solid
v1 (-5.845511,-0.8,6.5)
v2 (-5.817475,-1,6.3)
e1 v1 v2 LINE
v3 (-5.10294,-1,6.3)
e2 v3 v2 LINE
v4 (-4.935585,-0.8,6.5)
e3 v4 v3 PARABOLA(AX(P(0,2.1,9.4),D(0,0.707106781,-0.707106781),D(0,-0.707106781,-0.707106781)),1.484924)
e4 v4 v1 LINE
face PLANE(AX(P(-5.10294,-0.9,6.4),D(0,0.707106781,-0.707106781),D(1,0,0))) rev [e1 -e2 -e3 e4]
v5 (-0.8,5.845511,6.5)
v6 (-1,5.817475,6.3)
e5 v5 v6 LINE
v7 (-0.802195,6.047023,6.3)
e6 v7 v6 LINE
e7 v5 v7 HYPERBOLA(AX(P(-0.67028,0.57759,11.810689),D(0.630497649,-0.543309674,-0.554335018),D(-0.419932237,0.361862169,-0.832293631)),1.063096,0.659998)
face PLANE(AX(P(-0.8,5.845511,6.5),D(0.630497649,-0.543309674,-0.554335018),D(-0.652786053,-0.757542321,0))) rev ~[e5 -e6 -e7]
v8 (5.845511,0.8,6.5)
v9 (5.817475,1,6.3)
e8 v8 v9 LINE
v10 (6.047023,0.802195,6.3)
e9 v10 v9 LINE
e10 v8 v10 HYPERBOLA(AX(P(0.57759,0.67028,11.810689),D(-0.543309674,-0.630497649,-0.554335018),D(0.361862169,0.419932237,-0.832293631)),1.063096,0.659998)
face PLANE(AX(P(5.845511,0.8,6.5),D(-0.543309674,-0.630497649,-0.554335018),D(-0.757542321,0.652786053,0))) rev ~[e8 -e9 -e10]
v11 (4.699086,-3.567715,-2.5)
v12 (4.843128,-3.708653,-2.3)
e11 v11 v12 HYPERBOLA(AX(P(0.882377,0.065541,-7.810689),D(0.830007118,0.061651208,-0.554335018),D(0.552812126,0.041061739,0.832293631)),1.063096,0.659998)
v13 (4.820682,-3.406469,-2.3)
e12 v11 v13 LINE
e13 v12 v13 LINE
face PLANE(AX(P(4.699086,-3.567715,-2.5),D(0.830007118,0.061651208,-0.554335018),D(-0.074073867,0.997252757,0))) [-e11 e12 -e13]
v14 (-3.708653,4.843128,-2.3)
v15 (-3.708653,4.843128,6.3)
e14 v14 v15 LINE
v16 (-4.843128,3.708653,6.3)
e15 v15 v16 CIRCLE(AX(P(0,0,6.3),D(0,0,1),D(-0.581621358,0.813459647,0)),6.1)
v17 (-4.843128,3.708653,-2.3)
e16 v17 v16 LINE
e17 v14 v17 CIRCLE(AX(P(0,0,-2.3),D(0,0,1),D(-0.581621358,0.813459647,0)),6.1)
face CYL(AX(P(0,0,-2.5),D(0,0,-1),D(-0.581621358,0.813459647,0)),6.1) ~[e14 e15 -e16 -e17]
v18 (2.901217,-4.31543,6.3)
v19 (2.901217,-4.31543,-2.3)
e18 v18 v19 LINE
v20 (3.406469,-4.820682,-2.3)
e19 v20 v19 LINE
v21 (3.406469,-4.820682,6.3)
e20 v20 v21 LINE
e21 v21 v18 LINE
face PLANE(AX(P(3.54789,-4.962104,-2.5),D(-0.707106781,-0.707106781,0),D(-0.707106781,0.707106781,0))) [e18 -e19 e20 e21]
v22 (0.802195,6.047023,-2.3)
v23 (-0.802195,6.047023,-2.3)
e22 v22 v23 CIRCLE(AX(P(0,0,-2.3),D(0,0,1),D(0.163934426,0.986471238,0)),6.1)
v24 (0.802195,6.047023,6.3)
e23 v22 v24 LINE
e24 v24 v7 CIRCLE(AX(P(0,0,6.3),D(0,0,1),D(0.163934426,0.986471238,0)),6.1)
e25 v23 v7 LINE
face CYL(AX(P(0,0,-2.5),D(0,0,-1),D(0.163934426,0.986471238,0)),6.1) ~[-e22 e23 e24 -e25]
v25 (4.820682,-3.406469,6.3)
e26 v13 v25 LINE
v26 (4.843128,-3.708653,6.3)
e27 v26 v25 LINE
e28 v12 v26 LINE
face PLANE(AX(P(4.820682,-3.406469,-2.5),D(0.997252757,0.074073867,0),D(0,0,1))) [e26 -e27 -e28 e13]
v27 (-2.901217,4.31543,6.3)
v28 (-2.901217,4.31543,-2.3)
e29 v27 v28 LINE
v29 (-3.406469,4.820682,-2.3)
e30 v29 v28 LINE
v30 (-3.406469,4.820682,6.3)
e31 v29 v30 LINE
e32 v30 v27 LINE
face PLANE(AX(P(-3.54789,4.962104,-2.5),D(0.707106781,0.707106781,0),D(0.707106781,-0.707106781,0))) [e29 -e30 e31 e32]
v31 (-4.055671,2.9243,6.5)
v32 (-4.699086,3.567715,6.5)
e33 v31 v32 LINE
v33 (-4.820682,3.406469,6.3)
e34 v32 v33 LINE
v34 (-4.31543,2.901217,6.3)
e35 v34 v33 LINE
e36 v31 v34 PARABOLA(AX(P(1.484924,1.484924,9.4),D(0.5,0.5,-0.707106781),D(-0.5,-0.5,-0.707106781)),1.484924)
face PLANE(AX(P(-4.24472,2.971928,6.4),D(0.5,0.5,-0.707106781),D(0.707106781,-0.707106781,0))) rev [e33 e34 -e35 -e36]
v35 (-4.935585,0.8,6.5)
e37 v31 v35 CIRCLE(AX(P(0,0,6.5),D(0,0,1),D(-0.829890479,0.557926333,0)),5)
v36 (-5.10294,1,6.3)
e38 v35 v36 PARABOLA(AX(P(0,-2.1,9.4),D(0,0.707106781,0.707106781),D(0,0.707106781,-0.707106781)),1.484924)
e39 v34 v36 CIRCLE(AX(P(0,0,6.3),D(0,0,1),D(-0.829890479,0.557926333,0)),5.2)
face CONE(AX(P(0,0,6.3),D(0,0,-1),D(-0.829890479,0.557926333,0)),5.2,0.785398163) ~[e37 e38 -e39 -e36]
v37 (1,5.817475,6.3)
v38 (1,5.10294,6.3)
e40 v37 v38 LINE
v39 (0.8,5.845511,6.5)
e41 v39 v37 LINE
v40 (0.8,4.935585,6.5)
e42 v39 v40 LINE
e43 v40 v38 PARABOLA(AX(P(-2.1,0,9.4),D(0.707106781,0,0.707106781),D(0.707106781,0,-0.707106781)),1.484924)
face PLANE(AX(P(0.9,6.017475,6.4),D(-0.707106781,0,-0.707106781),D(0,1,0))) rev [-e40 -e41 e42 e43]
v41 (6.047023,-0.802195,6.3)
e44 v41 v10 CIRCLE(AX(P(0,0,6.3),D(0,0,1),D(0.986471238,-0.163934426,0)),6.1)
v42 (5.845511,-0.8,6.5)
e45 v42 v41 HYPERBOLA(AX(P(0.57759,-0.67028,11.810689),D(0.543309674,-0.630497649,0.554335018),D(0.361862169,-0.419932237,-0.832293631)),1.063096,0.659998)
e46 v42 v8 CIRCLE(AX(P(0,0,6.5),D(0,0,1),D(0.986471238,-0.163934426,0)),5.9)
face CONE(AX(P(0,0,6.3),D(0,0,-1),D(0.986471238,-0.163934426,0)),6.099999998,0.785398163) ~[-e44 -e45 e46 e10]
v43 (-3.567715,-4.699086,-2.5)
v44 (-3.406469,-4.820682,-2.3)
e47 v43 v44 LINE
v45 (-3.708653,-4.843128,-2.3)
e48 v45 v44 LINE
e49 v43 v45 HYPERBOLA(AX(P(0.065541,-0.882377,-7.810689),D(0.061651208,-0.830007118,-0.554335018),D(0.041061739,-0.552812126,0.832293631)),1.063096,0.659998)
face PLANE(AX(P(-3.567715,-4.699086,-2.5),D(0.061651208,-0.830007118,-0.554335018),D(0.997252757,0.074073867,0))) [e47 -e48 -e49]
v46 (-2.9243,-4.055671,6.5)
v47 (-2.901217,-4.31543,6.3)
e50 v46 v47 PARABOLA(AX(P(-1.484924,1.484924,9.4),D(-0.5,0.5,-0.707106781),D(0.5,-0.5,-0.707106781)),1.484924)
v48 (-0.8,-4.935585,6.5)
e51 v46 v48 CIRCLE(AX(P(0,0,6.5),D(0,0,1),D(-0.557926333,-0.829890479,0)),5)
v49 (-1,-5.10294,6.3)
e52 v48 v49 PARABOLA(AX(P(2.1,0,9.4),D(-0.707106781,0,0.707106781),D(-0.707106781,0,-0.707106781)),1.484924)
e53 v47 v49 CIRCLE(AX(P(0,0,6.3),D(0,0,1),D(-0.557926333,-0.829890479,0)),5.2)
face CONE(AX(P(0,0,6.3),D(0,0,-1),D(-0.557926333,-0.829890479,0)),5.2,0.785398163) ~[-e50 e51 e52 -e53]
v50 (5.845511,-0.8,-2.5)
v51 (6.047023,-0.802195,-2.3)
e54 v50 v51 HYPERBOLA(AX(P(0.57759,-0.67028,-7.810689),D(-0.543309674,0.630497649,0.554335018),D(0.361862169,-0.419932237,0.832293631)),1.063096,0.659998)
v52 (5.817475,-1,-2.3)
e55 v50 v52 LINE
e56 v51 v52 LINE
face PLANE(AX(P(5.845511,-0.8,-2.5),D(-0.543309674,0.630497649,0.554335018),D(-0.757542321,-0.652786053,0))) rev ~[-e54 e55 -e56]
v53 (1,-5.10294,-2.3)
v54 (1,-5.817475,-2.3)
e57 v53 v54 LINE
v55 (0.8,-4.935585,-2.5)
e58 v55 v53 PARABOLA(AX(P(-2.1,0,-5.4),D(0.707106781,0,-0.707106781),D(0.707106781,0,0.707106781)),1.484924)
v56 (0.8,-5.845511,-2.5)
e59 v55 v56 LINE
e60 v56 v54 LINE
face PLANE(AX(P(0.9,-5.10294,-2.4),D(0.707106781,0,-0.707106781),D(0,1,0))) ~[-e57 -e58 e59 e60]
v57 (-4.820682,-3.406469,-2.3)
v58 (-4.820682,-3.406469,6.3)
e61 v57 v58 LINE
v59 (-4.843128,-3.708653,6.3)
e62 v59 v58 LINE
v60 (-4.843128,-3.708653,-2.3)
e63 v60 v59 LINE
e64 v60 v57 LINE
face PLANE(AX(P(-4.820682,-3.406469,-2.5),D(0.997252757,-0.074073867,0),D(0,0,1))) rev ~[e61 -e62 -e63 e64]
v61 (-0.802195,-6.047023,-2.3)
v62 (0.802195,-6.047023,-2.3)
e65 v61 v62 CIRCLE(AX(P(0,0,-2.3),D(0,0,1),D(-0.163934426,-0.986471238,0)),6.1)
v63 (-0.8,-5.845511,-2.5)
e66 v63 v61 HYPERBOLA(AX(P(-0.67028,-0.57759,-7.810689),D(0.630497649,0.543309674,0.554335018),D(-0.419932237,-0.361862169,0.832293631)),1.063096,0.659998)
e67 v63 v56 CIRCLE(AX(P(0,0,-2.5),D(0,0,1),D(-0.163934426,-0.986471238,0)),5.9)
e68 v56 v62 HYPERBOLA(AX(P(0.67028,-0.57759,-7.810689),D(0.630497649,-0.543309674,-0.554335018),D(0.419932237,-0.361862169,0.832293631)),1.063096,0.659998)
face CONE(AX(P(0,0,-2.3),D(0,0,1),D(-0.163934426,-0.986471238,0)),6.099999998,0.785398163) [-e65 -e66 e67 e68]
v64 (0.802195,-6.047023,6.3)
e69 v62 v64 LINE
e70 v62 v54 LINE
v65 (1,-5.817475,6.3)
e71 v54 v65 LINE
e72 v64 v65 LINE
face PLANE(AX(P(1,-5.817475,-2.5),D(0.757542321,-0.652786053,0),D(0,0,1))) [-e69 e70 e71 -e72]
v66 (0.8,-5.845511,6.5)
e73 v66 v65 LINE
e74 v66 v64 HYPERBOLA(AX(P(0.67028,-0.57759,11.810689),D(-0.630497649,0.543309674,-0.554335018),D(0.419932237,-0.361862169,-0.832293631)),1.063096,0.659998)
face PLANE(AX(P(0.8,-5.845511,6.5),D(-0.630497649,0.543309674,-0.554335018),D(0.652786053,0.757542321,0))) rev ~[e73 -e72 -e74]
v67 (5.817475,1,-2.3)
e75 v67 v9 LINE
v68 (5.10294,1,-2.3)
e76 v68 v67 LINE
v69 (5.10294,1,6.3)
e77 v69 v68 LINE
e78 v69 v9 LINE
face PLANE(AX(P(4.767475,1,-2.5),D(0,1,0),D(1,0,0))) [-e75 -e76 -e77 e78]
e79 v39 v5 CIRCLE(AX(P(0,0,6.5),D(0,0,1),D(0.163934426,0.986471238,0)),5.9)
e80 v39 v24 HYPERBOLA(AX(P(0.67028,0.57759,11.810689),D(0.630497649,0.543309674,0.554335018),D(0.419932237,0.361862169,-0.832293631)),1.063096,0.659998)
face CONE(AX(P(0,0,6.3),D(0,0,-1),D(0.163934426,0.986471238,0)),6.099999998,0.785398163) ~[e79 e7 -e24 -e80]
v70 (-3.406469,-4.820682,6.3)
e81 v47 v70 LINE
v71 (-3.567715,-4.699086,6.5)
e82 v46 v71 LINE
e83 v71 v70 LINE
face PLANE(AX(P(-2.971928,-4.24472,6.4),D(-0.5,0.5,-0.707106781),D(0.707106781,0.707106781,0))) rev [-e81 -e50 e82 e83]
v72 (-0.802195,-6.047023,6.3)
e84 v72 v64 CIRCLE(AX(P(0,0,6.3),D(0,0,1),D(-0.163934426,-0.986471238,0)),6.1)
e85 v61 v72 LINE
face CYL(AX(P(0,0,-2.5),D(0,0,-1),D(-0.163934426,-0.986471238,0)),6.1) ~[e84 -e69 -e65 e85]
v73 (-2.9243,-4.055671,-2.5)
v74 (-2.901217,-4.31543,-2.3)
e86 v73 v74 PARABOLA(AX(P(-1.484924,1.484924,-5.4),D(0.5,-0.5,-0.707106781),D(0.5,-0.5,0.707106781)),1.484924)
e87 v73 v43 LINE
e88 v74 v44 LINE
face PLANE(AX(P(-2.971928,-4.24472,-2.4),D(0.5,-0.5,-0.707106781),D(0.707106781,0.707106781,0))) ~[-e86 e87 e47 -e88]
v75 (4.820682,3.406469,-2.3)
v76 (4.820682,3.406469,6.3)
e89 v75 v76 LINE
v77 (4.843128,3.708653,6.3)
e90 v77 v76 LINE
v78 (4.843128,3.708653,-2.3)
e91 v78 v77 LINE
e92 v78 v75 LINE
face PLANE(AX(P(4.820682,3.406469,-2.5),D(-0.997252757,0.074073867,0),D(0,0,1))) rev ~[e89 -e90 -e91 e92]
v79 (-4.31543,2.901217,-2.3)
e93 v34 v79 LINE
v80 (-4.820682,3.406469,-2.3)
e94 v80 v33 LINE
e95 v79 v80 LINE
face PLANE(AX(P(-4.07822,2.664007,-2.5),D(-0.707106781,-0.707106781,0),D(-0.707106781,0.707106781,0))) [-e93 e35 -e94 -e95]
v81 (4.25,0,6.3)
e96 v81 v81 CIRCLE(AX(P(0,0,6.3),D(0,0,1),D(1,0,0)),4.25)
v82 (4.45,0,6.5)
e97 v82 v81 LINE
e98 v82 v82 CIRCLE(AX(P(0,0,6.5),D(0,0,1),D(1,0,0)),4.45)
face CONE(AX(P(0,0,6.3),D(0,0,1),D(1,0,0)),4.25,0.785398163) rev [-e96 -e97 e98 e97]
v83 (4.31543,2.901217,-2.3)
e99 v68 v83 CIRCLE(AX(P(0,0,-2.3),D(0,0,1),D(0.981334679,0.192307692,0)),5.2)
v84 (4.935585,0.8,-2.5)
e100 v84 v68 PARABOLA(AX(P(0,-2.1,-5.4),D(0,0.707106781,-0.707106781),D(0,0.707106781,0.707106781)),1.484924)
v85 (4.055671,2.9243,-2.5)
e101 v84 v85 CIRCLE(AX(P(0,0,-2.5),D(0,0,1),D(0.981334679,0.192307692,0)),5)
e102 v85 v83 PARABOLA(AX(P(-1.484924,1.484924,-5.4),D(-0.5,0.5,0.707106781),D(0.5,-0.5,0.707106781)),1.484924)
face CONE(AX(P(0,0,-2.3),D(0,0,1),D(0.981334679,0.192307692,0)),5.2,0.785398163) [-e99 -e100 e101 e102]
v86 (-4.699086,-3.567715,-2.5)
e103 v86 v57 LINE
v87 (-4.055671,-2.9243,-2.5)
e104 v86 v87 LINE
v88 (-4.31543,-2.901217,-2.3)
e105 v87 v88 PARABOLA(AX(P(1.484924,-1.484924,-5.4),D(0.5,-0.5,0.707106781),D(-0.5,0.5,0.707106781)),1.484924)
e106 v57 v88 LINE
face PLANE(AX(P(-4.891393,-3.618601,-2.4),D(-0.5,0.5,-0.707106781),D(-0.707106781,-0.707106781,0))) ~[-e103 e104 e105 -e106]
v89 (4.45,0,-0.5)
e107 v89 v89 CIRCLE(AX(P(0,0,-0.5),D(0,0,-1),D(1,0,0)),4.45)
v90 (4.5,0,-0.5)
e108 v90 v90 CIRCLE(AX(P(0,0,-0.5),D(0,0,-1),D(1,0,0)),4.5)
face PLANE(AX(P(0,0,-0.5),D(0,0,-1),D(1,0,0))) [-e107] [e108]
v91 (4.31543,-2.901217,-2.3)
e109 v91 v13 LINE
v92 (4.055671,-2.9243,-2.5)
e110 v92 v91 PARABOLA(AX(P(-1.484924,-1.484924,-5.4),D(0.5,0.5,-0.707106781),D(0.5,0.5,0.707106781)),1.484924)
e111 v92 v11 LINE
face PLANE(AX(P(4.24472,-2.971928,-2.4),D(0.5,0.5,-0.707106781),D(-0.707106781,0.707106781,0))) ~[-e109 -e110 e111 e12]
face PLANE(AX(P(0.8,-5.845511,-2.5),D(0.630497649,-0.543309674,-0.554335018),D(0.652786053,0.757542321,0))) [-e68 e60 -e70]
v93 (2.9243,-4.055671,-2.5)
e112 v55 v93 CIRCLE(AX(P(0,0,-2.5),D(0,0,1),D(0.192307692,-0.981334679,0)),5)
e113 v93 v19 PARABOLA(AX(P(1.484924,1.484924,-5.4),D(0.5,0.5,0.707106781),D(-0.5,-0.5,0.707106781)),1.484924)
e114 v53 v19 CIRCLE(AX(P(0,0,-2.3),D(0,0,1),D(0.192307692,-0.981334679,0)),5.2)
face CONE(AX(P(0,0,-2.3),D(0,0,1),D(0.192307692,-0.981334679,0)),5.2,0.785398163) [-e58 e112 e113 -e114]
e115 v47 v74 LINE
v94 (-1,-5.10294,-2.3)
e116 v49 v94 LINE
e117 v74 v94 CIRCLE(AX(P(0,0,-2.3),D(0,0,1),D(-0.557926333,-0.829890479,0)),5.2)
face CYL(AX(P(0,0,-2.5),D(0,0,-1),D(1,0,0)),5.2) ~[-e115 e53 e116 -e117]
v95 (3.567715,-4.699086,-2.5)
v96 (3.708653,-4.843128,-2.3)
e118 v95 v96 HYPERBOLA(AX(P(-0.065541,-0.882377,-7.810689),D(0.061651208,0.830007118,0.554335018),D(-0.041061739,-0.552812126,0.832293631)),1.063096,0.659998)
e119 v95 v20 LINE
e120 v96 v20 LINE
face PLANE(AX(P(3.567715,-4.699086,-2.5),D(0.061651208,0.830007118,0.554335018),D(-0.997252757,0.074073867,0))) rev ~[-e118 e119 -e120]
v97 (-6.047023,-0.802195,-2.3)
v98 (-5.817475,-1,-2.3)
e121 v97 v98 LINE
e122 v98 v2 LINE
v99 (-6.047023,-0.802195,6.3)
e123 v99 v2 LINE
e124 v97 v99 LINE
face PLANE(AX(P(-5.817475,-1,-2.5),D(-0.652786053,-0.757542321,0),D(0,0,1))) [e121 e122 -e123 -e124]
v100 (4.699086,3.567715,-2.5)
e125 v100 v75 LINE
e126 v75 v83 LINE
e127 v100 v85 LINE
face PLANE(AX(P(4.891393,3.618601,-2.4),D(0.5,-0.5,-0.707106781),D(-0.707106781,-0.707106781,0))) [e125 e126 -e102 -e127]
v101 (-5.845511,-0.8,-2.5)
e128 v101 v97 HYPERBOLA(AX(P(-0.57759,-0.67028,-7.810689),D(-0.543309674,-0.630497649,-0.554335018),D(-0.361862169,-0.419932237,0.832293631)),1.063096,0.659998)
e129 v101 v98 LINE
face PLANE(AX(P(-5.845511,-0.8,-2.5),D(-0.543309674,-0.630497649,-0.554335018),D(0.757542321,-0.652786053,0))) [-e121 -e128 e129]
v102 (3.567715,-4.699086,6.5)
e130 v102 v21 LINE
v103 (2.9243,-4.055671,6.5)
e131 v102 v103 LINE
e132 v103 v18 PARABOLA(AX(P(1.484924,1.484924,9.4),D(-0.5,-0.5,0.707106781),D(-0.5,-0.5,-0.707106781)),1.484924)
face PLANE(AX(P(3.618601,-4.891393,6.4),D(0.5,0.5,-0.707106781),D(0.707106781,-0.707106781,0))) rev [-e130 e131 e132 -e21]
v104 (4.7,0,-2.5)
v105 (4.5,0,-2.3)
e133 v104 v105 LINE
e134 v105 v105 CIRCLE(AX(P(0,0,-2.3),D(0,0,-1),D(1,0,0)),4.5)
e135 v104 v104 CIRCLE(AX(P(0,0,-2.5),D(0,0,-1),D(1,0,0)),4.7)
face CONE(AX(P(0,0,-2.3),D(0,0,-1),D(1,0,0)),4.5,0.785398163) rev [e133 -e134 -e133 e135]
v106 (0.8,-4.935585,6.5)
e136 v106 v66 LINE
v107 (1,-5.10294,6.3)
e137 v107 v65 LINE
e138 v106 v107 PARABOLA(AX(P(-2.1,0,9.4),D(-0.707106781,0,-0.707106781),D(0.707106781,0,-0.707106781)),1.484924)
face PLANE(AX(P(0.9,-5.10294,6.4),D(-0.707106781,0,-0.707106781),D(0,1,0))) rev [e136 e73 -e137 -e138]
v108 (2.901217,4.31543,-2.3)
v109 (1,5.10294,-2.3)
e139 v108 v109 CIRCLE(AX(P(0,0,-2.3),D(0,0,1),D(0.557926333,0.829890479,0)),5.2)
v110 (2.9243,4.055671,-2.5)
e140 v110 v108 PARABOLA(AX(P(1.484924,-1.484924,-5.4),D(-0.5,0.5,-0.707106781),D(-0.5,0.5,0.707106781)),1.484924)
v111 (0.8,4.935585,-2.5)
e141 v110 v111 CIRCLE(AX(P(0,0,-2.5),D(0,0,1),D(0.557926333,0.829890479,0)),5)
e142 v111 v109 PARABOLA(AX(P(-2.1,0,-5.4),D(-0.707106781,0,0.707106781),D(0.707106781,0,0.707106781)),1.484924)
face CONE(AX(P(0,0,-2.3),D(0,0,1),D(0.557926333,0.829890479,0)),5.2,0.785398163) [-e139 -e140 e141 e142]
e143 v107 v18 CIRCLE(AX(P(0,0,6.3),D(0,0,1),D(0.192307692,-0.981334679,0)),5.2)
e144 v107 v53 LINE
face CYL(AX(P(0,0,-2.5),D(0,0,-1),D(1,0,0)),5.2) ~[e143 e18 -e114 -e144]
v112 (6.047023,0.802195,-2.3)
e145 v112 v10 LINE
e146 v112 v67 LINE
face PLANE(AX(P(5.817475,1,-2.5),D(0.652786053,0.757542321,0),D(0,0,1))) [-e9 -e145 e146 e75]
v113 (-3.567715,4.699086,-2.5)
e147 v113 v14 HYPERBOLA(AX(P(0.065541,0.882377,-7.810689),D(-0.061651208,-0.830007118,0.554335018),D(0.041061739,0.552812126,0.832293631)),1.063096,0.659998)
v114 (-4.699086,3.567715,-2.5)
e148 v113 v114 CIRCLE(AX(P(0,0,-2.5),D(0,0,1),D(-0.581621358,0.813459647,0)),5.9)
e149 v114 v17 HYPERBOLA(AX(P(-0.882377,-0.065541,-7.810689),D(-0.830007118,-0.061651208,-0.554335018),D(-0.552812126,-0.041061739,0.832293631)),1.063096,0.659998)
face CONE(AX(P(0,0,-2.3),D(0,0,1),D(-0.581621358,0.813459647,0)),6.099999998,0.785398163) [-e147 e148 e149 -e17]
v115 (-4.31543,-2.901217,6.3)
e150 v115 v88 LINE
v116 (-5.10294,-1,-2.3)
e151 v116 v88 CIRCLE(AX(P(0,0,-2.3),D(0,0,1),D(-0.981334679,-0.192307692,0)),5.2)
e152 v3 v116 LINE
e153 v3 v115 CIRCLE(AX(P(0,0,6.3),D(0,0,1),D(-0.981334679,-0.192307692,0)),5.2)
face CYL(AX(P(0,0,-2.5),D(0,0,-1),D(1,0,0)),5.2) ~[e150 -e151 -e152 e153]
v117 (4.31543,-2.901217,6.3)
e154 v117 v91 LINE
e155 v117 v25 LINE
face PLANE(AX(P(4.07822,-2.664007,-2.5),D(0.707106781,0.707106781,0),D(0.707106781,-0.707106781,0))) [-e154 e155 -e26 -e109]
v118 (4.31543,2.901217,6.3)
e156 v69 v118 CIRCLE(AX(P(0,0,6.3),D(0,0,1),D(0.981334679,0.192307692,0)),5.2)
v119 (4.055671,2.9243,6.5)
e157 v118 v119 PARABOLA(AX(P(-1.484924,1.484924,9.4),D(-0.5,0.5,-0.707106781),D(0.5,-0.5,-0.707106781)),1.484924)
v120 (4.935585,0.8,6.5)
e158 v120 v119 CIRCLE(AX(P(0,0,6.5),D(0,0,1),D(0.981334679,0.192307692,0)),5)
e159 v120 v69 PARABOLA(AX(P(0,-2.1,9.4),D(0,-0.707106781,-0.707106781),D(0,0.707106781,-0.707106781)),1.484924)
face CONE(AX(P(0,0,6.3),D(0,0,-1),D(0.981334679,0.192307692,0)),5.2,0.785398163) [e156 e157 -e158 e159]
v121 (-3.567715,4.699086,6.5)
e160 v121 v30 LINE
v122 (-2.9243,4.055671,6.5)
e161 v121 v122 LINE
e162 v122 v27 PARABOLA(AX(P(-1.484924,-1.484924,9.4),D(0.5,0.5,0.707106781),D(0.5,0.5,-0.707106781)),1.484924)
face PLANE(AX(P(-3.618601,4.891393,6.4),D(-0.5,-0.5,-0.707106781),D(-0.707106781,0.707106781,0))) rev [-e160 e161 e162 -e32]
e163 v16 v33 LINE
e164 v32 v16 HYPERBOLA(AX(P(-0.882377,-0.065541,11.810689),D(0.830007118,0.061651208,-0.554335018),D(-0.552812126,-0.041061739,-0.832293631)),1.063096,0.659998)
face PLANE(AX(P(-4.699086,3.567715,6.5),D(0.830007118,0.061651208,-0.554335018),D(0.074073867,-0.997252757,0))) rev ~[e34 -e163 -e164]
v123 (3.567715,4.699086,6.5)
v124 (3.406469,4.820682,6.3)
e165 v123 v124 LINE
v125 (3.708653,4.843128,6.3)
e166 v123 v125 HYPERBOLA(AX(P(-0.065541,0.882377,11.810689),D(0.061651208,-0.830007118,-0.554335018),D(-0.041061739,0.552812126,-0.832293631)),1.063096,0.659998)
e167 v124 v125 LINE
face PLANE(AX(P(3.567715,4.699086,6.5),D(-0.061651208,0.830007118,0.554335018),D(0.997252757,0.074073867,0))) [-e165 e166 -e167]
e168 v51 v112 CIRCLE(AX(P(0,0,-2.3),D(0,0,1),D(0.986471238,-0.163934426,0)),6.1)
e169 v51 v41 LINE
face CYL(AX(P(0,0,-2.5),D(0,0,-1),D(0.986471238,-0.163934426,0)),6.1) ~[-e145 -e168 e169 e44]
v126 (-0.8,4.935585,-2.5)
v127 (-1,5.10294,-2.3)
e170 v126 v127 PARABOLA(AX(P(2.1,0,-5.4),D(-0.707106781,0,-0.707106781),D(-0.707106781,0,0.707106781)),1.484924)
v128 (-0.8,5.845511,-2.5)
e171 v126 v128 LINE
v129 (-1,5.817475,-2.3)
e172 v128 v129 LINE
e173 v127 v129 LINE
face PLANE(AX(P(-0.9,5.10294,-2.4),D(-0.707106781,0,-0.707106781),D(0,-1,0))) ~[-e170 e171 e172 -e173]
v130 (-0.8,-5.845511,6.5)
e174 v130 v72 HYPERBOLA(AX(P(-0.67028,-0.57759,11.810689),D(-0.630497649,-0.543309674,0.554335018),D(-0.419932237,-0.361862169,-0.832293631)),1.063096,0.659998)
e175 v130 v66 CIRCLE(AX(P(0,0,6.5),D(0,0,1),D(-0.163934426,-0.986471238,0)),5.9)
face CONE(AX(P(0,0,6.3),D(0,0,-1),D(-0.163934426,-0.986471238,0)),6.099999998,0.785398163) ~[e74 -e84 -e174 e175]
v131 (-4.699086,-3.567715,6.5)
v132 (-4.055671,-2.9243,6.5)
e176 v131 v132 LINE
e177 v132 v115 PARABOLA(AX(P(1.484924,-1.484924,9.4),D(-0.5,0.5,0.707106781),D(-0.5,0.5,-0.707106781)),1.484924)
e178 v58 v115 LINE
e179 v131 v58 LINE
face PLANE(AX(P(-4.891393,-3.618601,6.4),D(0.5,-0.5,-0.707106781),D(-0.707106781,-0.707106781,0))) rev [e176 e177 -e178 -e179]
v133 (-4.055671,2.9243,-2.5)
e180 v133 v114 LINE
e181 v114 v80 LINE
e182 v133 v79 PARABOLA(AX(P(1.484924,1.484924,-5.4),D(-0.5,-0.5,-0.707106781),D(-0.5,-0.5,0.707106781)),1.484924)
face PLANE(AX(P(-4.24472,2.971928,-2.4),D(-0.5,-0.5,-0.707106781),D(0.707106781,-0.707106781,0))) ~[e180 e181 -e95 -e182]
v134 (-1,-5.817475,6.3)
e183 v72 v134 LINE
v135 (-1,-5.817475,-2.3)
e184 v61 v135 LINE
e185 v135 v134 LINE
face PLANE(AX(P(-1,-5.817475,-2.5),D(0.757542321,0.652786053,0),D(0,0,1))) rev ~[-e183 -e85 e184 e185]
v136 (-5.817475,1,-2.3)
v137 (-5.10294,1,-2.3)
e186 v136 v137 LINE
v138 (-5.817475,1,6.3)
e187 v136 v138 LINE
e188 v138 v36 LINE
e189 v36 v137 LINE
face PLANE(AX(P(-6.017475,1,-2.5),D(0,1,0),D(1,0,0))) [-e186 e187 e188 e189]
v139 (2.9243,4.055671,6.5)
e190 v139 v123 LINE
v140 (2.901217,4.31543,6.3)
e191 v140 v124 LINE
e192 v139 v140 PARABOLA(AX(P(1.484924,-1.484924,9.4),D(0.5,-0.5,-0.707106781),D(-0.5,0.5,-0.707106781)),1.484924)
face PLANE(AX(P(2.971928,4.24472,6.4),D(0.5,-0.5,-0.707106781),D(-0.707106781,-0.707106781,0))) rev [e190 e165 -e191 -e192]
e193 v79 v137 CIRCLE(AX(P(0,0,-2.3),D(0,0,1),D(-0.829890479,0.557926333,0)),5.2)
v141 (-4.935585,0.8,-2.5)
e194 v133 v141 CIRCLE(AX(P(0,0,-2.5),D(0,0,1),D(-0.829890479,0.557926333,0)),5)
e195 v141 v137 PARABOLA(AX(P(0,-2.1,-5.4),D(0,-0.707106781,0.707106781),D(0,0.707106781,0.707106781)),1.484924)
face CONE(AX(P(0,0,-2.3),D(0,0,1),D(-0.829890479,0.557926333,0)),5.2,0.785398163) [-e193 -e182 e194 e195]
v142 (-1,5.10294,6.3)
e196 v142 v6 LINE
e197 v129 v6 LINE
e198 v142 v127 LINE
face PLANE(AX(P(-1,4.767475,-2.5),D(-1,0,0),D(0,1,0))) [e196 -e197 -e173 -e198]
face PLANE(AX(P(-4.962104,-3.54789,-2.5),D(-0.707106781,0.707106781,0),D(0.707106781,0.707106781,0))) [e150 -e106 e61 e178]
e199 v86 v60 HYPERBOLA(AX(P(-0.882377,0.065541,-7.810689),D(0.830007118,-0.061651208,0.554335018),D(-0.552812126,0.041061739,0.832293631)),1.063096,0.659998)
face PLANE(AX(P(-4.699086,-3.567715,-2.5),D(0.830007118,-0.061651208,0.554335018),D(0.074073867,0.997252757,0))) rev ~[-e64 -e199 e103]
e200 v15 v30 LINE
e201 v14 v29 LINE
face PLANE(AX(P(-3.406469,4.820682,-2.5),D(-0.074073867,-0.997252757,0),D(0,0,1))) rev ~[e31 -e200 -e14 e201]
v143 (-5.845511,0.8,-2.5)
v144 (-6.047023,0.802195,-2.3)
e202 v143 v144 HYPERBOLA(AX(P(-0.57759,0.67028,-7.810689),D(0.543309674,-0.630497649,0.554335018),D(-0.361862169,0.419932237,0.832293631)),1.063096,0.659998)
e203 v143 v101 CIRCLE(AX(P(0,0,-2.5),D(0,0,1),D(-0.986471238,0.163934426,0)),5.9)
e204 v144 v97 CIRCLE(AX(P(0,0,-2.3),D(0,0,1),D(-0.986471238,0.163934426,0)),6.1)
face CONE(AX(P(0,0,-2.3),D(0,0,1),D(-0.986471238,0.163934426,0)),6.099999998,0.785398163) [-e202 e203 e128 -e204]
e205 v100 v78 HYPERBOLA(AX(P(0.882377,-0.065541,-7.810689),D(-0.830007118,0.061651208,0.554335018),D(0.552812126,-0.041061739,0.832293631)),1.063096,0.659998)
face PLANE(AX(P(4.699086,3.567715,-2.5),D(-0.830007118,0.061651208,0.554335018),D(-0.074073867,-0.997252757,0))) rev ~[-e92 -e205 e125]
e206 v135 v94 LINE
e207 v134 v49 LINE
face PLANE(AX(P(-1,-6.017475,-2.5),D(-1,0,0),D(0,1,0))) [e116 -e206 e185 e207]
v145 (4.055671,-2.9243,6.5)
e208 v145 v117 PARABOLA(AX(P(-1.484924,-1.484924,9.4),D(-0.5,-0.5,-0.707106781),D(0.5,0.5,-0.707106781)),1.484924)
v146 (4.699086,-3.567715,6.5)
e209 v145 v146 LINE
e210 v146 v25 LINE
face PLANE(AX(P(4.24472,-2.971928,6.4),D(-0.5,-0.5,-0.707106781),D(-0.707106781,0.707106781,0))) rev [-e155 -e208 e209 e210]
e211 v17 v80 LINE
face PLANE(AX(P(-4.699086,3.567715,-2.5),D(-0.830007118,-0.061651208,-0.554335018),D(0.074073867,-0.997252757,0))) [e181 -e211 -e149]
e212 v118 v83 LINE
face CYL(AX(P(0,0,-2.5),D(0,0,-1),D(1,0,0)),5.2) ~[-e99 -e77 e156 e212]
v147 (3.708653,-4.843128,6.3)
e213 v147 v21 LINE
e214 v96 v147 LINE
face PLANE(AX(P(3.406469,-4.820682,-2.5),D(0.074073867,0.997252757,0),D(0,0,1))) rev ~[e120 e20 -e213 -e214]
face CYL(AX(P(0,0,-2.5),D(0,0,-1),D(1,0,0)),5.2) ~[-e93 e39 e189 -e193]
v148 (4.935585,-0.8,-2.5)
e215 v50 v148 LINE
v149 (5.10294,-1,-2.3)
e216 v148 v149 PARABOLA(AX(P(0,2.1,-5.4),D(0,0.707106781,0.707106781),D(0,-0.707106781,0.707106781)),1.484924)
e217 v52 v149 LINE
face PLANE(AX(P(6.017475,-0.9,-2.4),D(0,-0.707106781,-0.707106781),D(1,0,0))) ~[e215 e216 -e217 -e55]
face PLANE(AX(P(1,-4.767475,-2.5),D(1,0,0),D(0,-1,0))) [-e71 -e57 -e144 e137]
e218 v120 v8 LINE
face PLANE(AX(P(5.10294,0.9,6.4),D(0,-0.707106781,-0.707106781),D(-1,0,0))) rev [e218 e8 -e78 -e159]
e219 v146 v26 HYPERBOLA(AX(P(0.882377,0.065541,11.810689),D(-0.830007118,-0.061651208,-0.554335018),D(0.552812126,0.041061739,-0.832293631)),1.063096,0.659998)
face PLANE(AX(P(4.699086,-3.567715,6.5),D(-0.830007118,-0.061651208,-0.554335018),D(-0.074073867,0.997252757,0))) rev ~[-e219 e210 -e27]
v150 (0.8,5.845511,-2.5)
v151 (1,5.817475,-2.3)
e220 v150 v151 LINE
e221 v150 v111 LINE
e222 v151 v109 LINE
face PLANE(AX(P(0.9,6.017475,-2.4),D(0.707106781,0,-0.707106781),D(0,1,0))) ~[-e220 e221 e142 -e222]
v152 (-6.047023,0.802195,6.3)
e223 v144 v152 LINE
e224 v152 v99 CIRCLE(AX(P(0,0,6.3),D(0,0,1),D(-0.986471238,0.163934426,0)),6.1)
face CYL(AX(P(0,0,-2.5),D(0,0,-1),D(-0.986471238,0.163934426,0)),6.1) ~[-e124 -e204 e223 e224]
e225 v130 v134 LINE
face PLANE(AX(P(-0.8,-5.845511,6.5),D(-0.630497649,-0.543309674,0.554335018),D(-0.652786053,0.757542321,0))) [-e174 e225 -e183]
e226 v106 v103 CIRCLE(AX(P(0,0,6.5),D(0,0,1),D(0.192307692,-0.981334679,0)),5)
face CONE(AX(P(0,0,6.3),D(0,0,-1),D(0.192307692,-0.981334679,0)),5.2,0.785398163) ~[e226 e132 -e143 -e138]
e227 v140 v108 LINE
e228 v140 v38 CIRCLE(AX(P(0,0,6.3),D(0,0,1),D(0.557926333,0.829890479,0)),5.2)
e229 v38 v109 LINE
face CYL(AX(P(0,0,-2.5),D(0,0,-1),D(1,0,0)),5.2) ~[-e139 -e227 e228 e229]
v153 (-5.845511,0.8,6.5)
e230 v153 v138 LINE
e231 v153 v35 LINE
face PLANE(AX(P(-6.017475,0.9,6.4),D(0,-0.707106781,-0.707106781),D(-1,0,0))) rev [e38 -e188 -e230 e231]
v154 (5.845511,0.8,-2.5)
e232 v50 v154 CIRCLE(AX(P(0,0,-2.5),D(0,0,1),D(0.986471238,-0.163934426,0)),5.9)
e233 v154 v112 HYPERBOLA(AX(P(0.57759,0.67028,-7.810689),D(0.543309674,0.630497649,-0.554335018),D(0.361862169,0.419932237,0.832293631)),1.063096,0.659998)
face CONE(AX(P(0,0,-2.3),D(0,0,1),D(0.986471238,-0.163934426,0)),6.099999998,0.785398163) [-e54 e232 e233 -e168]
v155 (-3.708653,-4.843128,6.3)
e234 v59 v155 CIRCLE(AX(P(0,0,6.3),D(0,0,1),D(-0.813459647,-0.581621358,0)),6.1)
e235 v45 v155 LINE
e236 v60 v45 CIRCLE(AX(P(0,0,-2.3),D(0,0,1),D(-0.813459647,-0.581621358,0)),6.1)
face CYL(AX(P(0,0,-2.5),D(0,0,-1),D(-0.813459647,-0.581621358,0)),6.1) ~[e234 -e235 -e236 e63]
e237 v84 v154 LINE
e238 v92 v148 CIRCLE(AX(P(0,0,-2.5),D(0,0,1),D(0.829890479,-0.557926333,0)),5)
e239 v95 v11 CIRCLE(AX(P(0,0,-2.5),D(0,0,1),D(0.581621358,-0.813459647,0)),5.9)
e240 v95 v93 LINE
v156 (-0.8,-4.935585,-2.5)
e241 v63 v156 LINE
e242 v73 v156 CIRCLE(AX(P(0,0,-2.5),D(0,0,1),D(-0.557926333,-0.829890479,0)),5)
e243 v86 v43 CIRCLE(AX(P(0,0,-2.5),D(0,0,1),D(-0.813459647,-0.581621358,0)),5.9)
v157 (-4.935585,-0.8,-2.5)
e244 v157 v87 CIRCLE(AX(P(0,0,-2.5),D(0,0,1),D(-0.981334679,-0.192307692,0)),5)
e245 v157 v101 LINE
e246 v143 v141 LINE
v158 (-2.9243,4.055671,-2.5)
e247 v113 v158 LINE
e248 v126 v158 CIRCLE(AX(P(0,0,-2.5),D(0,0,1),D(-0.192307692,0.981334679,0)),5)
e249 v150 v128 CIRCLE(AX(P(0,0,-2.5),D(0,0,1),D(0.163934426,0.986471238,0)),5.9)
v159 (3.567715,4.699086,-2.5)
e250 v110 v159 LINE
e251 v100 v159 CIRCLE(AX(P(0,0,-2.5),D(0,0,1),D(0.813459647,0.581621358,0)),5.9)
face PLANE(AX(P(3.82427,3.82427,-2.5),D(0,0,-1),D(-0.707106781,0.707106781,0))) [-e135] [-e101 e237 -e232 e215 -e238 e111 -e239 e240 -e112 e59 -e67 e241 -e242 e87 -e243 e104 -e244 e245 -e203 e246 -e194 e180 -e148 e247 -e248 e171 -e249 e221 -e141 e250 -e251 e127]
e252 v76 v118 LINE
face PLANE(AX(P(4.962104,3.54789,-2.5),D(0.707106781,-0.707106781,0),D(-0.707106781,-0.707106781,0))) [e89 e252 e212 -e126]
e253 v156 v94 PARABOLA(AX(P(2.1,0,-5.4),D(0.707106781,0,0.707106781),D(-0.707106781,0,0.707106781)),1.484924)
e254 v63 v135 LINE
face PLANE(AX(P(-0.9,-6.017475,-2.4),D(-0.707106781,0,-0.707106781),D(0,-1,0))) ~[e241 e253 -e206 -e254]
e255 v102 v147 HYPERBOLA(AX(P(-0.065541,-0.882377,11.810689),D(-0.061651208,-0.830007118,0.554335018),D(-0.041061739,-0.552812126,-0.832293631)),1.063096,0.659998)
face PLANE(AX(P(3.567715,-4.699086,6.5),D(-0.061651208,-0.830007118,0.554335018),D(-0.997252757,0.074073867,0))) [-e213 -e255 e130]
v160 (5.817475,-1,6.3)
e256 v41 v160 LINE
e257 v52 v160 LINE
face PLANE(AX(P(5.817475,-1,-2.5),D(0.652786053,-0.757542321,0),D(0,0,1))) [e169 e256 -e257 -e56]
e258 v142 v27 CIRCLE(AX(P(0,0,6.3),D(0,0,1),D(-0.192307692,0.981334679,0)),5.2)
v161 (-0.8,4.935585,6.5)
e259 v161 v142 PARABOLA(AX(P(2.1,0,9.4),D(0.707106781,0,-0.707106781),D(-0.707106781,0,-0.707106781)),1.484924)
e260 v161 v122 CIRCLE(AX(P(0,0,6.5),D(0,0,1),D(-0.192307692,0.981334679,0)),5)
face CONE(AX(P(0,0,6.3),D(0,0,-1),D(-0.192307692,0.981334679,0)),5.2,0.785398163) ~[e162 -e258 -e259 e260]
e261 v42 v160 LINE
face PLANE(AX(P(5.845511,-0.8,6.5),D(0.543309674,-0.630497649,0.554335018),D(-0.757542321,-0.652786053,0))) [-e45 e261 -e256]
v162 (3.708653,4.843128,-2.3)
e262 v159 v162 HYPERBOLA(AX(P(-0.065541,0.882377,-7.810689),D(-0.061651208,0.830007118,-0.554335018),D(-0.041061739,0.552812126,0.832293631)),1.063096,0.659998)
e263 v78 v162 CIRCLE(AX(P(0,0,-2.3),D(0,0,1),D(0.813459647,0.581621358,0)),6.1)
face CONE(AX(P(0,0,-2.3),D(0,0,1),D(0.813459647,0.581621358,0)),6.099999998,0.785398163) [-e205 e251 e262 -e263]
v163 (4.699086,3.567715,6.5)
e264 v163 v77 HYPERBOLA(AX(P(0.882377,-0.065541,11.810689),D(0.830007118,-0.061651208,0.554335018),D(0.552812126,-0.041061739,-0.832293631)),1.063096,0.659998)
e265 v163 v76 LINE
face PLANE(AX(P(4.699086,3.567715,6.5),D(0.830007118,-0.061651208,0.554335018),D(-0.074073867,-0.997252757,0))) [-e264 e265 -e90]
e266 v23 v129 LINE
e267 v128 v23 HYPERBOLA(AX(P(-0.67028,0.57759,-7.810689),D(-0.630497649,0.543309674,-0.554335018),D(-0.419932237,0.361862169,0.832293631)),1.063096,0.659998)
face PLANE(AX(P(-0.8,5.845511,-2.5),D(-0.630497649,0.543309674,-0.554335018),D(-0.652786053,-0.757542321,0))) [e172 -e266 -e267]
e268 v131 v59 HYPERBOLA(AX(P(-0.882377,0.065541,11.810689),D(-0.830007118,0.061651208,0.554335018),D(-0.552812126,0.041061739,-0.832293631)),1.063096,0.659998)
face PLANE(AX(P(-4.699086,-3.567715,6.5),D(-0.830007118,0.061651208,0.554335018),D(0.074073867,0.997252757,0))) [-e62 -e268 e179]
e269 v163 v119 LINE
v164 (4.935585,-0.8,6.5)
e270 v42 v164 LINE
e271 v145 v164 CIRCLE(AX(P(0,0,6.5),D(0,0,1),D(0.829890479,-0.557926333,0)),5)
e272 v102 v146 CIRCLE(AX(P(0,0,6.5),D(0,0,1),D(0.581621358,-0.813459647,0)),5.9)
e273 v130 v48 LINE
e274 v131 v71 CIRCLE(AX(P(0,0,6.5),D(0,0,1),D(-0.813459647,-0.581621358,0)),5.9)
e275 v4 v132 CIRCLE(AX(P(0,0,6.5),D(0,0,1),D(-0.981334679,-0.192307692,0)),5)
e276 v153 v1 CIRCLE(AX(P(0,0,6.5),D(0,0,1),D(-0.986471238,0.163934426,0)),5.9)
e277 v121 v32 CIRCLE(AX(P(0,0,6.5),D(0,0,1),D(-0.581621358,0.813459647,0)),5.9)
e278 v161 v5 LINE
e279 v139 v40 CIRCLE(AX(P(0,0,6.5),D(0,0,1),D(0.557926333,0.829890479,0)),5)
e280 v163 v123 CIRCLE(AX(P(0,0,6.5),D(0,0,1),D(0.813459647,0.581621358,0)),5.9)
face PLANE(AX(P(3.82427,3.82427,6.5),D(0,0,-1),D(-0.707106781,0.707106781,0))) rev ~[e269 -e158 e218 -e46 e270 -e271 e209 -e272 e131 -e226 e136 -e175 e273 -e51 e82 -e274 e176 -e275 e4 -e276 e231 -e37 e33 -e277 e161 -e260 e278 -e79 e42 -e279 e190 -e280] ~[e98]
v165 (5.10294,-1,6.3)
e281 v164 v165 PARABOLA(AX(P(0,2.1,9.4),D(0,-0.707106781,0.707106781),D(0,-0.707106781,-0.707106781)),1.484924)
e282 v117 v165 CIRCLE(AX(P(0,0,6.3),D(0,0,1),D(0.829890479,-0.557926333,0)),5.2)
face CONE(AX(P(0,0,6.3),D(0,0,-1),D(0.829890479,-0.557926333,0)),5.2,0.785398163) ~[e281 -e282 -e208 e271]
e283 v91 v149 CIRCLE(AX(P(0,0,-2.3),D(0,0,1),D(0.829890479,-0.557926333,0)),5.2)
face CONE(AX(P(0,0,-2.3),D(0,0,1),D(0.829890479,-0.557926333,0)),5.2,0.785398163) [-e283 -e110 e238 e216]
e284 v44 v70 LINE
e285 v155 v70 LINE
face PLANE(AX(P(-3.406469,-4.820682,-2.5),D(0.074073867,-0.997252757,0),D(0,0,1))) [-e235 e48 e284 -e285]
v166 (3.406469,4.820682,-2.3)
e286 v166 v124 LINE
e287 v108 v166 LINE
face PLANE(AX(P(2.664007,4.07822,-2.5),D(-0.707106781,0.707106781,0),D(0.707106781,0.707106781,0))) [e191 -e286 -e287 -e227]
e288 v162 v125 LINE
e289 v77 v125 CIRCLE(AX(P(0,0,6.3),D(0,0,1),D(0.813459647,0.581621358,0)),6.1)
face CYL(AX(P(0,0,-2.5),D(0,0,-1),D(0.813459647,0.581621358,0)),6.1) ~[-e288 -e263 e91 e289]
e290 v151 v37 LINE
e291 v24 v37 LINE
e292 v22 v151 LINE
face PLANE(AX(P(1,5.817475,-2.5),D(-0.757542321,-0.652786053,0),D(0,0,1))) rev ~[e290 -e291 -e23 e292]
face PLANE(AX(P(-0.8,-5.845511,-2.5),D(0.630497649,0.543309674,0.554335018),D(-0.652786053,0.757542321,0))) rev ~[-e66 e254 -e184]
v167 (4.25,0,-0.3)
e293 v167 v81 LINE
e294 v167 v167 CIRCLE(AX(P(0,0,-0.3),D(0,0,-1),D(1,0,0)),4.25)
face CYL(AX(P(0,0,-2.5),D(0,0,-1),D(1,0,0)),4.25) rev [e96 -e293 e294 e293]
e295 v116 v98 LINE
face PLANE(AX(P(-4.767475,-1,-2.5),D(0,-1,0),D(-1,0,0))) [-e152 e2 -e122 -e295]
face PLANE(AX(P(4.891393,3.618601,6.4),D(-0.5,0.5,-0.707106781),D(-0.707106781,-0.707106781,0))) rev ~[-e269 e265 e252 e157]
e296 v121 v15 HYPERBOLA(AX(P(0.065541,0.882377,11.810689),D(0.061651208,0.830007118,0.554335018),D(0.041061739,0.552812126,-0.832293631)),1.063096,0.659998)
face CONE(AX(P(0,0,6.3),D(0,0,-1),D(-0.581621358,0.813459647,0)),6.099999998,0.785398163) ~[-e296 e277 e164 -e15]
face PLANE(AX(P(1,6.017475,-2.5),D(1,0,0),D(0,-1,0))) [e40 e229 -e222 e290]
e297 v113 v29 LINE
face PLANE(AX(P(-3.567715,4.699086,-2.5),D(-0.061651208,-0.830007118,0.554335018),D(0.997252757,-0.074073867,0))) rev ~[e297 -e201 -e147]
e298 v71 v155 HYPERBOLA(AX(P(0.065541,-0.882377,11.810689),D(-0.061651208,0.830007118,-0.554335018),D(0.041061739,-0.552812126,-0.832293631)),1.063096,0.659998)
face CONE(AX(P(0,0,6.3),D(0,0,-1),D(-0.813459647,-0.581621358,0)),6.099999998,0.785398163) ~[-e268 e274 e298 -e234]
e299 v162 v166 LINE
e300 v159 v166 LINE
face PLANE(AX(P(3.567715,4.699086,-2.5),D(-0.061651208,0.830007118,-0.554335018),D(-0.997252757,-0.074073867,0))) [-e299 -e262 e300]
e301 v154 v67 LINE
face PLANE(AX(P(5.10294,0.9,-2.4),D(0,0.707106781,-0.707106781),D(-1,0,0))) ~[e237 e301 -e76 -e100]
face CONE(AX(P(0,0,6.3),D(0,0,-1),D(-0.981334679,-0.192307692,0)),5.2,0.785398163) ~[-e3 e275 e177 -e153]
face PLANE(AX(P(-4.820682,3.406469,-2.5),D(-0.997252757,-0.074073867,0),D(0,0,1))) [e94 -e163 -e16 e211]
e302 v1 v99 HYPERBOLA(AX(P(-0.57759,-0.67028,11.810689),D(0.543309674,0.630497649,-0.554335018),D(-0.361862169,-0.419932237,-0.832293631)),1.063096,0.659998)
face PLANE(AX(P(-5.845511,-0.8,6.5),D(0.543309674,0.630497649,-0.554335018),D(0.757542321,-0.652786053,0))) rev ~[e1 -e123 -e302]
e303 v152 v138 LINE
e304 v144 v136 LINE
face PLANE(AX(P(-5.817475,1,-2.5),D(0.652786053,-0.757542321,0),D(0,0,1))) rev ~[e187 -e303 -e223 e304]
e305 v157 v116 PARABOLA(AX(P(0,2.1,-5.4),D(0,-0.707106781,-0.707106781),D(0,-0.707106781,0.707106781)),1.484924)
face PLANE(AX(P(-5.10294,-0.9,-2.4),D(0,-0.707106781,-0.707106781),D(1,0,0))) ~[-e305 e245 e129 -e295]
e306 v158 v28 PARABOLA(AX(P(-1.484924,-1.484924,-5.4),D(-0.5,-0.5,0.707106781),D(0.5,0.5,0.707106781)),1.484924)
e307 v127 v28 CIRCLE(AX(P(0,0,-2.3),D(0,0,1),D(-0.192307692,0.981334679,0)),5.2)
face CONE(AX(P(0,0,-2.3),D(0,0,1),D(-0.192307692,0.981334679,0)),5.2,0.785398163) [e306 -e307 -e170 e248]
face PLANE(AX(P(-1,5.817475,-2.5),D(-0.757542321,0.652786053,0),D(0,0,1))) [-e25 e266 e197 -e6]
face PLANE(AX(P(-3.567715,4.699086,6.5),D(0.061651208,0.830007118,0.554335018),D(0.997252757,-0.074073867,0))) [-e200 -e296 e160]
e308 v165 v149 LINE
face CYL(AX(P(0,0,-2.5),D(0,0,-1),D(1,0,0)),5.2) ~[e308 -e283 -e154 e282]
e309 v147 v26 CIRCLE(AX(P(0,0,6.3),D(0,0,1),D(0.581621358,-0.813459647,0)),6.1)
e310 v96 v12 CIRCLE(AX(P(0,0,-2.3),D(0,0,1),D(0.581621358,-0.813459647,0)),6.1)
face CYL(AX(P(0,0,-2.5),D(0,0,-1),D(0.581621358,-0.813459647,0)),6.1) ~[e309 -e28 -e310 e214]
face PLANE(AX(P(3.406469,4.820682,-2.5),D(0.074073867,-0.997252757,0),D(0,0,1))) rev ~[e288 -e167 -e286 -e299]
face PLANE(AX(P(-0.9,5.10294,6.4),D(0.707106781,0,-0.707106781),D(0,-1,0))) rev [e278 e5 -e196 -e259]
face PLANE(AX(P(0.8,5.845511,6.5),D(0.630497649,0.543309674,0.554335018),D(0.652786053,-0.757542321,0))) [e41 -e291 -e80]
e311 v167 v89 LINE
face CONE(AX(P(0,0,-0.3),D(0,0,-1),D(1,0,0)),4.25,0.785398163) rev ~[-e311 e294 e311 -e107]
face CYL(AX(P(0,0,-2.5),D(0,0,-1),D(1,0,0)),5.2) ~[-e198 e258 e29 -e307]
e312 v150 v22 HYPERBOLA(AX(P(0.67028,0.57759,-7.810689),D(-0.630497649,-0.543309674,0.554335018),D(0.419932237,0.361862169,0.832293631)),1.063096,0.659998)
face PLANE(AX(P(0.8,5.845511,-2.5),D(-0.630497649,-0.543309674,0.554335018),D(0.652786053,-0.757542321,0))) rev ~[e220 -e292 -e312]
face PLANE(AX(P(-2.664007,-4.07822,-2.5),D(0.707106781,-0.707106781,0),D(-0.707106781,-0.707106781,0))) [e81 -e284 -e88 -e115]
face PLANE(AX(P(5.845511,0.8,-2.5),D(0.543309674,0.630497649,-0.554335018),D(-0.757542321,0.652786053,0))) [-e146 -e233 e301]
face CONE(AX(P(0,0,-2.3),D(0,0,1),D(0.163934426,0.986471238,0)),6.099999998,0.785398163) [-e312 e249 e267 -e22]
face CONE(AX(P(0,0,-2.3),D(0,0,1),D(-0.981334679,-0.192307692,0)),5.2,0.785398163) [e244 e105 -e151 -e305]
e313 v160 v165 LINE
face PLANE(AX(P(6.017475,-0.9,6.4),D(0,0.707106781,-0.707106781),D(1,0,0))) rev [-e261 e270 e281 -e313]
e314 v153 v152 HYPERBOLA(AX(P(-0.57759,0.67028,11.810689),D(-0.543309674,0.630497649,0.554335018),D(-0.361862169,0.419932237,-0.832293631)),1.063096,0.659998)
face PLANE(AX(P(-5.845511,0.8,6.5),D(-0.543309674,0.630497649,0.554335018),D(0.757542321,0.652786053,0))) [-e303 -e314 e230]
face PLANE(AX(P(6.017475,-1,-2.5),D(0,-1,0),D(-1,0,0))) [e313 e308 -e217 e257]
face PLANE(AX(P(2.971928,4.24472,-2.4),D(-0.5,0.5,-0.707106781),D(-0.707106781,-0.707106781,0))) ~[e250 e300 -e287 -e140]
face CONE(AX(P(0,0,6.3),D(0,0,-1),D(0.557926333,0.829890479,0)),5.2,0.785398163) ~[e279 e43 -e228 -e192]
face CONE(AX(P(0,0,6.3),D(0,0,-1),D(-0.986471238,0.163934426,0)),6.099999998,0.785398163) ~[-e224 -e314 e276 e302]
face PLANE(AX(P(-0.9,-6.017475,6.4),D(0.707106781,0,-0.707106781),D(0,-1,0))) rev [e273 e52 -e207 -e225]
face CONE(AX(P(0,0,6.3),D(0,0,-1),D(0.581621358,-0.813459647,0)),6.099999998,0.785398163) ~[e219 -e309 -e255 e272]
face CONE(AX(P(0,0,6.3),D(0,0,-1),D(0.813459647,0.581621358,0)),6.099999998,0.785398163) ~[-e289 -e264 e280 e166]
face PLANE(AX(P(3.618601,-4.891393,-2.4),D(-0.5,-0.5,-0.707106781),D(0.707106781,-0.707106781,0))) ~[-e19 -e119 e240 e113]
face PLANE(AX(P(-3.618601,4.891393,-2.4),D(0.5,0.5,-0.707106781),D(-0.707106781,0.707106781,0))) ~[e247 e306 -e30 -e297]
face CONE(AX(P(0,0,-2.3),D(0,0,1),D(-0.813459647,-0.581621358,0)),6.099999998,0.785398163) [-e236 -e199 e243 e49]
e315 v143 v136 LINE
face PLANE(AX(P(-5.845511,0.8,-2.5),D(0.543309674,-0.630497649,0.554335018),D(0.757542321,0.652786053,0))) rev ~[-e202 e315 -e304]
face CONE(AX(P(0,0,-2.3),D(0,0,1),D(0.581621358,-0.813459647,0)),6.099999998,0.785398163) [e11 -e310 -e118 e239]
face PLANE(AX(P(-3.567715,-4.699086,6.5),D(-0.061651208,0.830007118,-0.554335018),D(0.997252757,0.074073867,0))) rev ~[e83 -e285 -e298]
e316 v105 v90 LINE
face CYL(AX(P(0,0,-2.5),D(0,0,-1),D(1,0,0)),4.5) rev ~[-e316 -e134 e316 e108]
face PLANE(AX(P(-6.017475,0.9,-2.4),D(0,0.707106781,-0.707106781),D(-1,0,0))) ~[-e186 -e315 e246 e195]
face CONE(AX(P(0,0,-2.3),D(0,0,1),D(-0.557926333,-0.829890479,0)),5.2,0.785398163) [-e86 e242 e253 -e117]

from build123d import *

# Parameters (mm, degrees)
PAD010_DEPTH    = 9
ARRAY001_COUNT  = 8
SKETCH014_R     = 5.2
SKETCH014_R_2   = 4.25
PAD009_DEPTH    = 9
SKETCH017_R     = 4.5
POCKET005_DEPTH = 2
CHAMFER004_SIZE = 0.2


with BuildPart() as array001:
    # Sketch015 → Pad010 (new body)
    with BuildSketch(Plane.XY):
        with BuildLine():
            Line((1, 6.0174745533), (1, 4.7674745533))
            Line((1, 4.7674745533), (-1, 4.7674745533))
            Line((-1, 4.7674745533), (-1, 6.0174745533))
            ThreePointArc((1, 6.0174745533), (0, 6.1), (-1, 6.0174745533))
        make_face()
    extrude(amount=PAD010_DEPTH)


with BuildPart() as array001_1:
    # Body005 placement: moved
    add(array001.part.moved(Location((0, 0, -3))))

    # Array001: Array001 ×8 about axis
    array001_axis = Axis((0, 0, 0), (0, 0, 1))


with BuildPart() as array001_2:
    add(array001_1.part)
    for i in range(1, ARRAY001_COUNT):
        add(array001_1.part.rotate(array001_axis, i * 360 / ARRAY001_COUNT))


with BuildPart() as chamfer004:
    # Sketch014 → Pad009 (new body)
    with BuildSketch(Plane.XY):
        Circle(SKETCH014_R)
        Circle(SKETCH014_R_2, mode=Mode.SUBTRACT)
    extrude(amount=PAD009_DEPTH)

    # Sketch017 (on Face3 of Pad009) → Pocket005 (cut)
    with BuildSketch(Plane(origin=(0, 0, 0), x_dir=(1, 0, 0), z_dir=(0, 0, -1))):
        Circle(SKETCH017_R)
    extrude(amount=-POCKET005_DEPTH, mode=Mode.SUBTRACT)


with BuildPart() as chamfer004_1:
    # Body004 placement: moved
    add(chamfer004.part.moved(Location((0, 0, -3))))

    # Fusion: union Array001
    add(array001_2.part)

    # Chamfer004
    chamfer004_edges = [chamfer004_1.edges().sort_by_distance(p)[0] for p in [
        (1.989954, 4.804174, -3),
        (1.989954, 4.804174, 6),
        (1, 5.560207, -3),
        (1, 5.560207, 6),
        (1, 6.017475, 1.5),
        (3.224554, 4.638767, -3),
        (3.54789, 4.962104, 1.5),
        (3.224554, 4.638767, 6),
        (-1, 6.017475, 1.5),
        (0, 6.1, -3),
        (0, 6.1, 6),
        (-1.989954, 4.804174, -3),
        (-1.989954, 4.804174, 6),
        (-3.224554, 4.638767, -3),
        (-3.224554, 4.638767, 6),
        (-3.54789, 4.962104, 1.5),
        (-1, 5.560207, -3),
        (-1, 5.560207, 6),
        (-4.962104, 3.54789, 1.5),
        (-4.313351, 4.313351, -3),
        (-4.313351, 4.313351, 6),
        (-4.804174, 1.989954, -3),
        (-4.804174, 1.989954, 6),
        (-5.560207, 1, -3),
        (-5.560207, 1, 6),
        (-6.017475, 1, 1.5),
        (-4.638767, 3.224554, -3),
        (-4.638767, 3.224554, 6),
        (-6.017475, -1, 1.5),
        (-6.1, 0, -3),
        (-6.1, 0, 6),
        (-4.804174, -1.989954, 6),
        (-4.804174, -1.989954, -3),
        (-4.638767, -3.224554, -3),
        (-4.638767, -3.224554, 6),
        (-4.962104, -3.54789, 1.5),
        (-5.560207, -1, -3),
        (-5.560207, -1, 6),
        (-3.54789, -4.962104, 1.5),
        (-4.313351, -4.313351, -3),
        (-4.313351, -4.313351, 6),
        (-1.989954, -4.804174, 6),
        (-1.989954, -4.804174, -3),
        (-1, -5.560207, -3),
        (-1, -5.560207, 6),
        (-1, -6.017475, 1.5),
        (-3.224554, -4.638767, -3),
        (-3.224554, -4.638767, 6),
        (1, -6.017475, 1.5),
        (0, -6.1, -3),
        (0, -6.1, 6),
        (1.989954, -4.804174, 6),
        (1.989954, -4.804174, -3),
        (3.224554, -4.638767, -3),
        (3.224554, -4.638767, 6),
        (3.54789, -4.962104, 1.5),
        (1, -5.560207, -3),
        (1, -5.560207, 6),
        (4.962104, -3.54789, 1.5),
        (4.313351, -4.313351, -3),
        (4.313351, -4.313351, 6),
        (5.560207, -1, -3),
        (5.560207, -1, 6),
        (6.017475, -1, 1.5),
        (6.017475, 1, 1.5),
        (6.1, 0, -3),
        (6.1, 0, 6),
        (5.560207, 1, -3),
        (5.560207, 1, 6),
        (4.804174, -1.989954, 6),
        (4.804174, -1.989954, -3),
        (4.804174, 1.989954, -3),
        (4.804174, 1.989954, 6),
        (4.638767, -3.224554, -3),
        (4.638767, -3.224554, 6),
        (4.638767, 3.224554, -3),
        (4.638767, 3.224554, 6),
        (4.962104, 3.54789, 1.5),
        (4.313351, 4.313351, -3),
        (4.313351, 4.313351, 6),
        (-4.5, 0, -3),
        (-4.25, 0, -1),
        (-4.25, 0, 6),
    ]]
    chamfer(chamfer004_edges, length=CHAMFER004_SIZE)


with BuildPart() as chamfer004_2:
    # Chamfer004 placement: moved
    add(chamfer004_1.part.moved(Location((0, 0, 0.5))))


solid = chamfer004_2.part
